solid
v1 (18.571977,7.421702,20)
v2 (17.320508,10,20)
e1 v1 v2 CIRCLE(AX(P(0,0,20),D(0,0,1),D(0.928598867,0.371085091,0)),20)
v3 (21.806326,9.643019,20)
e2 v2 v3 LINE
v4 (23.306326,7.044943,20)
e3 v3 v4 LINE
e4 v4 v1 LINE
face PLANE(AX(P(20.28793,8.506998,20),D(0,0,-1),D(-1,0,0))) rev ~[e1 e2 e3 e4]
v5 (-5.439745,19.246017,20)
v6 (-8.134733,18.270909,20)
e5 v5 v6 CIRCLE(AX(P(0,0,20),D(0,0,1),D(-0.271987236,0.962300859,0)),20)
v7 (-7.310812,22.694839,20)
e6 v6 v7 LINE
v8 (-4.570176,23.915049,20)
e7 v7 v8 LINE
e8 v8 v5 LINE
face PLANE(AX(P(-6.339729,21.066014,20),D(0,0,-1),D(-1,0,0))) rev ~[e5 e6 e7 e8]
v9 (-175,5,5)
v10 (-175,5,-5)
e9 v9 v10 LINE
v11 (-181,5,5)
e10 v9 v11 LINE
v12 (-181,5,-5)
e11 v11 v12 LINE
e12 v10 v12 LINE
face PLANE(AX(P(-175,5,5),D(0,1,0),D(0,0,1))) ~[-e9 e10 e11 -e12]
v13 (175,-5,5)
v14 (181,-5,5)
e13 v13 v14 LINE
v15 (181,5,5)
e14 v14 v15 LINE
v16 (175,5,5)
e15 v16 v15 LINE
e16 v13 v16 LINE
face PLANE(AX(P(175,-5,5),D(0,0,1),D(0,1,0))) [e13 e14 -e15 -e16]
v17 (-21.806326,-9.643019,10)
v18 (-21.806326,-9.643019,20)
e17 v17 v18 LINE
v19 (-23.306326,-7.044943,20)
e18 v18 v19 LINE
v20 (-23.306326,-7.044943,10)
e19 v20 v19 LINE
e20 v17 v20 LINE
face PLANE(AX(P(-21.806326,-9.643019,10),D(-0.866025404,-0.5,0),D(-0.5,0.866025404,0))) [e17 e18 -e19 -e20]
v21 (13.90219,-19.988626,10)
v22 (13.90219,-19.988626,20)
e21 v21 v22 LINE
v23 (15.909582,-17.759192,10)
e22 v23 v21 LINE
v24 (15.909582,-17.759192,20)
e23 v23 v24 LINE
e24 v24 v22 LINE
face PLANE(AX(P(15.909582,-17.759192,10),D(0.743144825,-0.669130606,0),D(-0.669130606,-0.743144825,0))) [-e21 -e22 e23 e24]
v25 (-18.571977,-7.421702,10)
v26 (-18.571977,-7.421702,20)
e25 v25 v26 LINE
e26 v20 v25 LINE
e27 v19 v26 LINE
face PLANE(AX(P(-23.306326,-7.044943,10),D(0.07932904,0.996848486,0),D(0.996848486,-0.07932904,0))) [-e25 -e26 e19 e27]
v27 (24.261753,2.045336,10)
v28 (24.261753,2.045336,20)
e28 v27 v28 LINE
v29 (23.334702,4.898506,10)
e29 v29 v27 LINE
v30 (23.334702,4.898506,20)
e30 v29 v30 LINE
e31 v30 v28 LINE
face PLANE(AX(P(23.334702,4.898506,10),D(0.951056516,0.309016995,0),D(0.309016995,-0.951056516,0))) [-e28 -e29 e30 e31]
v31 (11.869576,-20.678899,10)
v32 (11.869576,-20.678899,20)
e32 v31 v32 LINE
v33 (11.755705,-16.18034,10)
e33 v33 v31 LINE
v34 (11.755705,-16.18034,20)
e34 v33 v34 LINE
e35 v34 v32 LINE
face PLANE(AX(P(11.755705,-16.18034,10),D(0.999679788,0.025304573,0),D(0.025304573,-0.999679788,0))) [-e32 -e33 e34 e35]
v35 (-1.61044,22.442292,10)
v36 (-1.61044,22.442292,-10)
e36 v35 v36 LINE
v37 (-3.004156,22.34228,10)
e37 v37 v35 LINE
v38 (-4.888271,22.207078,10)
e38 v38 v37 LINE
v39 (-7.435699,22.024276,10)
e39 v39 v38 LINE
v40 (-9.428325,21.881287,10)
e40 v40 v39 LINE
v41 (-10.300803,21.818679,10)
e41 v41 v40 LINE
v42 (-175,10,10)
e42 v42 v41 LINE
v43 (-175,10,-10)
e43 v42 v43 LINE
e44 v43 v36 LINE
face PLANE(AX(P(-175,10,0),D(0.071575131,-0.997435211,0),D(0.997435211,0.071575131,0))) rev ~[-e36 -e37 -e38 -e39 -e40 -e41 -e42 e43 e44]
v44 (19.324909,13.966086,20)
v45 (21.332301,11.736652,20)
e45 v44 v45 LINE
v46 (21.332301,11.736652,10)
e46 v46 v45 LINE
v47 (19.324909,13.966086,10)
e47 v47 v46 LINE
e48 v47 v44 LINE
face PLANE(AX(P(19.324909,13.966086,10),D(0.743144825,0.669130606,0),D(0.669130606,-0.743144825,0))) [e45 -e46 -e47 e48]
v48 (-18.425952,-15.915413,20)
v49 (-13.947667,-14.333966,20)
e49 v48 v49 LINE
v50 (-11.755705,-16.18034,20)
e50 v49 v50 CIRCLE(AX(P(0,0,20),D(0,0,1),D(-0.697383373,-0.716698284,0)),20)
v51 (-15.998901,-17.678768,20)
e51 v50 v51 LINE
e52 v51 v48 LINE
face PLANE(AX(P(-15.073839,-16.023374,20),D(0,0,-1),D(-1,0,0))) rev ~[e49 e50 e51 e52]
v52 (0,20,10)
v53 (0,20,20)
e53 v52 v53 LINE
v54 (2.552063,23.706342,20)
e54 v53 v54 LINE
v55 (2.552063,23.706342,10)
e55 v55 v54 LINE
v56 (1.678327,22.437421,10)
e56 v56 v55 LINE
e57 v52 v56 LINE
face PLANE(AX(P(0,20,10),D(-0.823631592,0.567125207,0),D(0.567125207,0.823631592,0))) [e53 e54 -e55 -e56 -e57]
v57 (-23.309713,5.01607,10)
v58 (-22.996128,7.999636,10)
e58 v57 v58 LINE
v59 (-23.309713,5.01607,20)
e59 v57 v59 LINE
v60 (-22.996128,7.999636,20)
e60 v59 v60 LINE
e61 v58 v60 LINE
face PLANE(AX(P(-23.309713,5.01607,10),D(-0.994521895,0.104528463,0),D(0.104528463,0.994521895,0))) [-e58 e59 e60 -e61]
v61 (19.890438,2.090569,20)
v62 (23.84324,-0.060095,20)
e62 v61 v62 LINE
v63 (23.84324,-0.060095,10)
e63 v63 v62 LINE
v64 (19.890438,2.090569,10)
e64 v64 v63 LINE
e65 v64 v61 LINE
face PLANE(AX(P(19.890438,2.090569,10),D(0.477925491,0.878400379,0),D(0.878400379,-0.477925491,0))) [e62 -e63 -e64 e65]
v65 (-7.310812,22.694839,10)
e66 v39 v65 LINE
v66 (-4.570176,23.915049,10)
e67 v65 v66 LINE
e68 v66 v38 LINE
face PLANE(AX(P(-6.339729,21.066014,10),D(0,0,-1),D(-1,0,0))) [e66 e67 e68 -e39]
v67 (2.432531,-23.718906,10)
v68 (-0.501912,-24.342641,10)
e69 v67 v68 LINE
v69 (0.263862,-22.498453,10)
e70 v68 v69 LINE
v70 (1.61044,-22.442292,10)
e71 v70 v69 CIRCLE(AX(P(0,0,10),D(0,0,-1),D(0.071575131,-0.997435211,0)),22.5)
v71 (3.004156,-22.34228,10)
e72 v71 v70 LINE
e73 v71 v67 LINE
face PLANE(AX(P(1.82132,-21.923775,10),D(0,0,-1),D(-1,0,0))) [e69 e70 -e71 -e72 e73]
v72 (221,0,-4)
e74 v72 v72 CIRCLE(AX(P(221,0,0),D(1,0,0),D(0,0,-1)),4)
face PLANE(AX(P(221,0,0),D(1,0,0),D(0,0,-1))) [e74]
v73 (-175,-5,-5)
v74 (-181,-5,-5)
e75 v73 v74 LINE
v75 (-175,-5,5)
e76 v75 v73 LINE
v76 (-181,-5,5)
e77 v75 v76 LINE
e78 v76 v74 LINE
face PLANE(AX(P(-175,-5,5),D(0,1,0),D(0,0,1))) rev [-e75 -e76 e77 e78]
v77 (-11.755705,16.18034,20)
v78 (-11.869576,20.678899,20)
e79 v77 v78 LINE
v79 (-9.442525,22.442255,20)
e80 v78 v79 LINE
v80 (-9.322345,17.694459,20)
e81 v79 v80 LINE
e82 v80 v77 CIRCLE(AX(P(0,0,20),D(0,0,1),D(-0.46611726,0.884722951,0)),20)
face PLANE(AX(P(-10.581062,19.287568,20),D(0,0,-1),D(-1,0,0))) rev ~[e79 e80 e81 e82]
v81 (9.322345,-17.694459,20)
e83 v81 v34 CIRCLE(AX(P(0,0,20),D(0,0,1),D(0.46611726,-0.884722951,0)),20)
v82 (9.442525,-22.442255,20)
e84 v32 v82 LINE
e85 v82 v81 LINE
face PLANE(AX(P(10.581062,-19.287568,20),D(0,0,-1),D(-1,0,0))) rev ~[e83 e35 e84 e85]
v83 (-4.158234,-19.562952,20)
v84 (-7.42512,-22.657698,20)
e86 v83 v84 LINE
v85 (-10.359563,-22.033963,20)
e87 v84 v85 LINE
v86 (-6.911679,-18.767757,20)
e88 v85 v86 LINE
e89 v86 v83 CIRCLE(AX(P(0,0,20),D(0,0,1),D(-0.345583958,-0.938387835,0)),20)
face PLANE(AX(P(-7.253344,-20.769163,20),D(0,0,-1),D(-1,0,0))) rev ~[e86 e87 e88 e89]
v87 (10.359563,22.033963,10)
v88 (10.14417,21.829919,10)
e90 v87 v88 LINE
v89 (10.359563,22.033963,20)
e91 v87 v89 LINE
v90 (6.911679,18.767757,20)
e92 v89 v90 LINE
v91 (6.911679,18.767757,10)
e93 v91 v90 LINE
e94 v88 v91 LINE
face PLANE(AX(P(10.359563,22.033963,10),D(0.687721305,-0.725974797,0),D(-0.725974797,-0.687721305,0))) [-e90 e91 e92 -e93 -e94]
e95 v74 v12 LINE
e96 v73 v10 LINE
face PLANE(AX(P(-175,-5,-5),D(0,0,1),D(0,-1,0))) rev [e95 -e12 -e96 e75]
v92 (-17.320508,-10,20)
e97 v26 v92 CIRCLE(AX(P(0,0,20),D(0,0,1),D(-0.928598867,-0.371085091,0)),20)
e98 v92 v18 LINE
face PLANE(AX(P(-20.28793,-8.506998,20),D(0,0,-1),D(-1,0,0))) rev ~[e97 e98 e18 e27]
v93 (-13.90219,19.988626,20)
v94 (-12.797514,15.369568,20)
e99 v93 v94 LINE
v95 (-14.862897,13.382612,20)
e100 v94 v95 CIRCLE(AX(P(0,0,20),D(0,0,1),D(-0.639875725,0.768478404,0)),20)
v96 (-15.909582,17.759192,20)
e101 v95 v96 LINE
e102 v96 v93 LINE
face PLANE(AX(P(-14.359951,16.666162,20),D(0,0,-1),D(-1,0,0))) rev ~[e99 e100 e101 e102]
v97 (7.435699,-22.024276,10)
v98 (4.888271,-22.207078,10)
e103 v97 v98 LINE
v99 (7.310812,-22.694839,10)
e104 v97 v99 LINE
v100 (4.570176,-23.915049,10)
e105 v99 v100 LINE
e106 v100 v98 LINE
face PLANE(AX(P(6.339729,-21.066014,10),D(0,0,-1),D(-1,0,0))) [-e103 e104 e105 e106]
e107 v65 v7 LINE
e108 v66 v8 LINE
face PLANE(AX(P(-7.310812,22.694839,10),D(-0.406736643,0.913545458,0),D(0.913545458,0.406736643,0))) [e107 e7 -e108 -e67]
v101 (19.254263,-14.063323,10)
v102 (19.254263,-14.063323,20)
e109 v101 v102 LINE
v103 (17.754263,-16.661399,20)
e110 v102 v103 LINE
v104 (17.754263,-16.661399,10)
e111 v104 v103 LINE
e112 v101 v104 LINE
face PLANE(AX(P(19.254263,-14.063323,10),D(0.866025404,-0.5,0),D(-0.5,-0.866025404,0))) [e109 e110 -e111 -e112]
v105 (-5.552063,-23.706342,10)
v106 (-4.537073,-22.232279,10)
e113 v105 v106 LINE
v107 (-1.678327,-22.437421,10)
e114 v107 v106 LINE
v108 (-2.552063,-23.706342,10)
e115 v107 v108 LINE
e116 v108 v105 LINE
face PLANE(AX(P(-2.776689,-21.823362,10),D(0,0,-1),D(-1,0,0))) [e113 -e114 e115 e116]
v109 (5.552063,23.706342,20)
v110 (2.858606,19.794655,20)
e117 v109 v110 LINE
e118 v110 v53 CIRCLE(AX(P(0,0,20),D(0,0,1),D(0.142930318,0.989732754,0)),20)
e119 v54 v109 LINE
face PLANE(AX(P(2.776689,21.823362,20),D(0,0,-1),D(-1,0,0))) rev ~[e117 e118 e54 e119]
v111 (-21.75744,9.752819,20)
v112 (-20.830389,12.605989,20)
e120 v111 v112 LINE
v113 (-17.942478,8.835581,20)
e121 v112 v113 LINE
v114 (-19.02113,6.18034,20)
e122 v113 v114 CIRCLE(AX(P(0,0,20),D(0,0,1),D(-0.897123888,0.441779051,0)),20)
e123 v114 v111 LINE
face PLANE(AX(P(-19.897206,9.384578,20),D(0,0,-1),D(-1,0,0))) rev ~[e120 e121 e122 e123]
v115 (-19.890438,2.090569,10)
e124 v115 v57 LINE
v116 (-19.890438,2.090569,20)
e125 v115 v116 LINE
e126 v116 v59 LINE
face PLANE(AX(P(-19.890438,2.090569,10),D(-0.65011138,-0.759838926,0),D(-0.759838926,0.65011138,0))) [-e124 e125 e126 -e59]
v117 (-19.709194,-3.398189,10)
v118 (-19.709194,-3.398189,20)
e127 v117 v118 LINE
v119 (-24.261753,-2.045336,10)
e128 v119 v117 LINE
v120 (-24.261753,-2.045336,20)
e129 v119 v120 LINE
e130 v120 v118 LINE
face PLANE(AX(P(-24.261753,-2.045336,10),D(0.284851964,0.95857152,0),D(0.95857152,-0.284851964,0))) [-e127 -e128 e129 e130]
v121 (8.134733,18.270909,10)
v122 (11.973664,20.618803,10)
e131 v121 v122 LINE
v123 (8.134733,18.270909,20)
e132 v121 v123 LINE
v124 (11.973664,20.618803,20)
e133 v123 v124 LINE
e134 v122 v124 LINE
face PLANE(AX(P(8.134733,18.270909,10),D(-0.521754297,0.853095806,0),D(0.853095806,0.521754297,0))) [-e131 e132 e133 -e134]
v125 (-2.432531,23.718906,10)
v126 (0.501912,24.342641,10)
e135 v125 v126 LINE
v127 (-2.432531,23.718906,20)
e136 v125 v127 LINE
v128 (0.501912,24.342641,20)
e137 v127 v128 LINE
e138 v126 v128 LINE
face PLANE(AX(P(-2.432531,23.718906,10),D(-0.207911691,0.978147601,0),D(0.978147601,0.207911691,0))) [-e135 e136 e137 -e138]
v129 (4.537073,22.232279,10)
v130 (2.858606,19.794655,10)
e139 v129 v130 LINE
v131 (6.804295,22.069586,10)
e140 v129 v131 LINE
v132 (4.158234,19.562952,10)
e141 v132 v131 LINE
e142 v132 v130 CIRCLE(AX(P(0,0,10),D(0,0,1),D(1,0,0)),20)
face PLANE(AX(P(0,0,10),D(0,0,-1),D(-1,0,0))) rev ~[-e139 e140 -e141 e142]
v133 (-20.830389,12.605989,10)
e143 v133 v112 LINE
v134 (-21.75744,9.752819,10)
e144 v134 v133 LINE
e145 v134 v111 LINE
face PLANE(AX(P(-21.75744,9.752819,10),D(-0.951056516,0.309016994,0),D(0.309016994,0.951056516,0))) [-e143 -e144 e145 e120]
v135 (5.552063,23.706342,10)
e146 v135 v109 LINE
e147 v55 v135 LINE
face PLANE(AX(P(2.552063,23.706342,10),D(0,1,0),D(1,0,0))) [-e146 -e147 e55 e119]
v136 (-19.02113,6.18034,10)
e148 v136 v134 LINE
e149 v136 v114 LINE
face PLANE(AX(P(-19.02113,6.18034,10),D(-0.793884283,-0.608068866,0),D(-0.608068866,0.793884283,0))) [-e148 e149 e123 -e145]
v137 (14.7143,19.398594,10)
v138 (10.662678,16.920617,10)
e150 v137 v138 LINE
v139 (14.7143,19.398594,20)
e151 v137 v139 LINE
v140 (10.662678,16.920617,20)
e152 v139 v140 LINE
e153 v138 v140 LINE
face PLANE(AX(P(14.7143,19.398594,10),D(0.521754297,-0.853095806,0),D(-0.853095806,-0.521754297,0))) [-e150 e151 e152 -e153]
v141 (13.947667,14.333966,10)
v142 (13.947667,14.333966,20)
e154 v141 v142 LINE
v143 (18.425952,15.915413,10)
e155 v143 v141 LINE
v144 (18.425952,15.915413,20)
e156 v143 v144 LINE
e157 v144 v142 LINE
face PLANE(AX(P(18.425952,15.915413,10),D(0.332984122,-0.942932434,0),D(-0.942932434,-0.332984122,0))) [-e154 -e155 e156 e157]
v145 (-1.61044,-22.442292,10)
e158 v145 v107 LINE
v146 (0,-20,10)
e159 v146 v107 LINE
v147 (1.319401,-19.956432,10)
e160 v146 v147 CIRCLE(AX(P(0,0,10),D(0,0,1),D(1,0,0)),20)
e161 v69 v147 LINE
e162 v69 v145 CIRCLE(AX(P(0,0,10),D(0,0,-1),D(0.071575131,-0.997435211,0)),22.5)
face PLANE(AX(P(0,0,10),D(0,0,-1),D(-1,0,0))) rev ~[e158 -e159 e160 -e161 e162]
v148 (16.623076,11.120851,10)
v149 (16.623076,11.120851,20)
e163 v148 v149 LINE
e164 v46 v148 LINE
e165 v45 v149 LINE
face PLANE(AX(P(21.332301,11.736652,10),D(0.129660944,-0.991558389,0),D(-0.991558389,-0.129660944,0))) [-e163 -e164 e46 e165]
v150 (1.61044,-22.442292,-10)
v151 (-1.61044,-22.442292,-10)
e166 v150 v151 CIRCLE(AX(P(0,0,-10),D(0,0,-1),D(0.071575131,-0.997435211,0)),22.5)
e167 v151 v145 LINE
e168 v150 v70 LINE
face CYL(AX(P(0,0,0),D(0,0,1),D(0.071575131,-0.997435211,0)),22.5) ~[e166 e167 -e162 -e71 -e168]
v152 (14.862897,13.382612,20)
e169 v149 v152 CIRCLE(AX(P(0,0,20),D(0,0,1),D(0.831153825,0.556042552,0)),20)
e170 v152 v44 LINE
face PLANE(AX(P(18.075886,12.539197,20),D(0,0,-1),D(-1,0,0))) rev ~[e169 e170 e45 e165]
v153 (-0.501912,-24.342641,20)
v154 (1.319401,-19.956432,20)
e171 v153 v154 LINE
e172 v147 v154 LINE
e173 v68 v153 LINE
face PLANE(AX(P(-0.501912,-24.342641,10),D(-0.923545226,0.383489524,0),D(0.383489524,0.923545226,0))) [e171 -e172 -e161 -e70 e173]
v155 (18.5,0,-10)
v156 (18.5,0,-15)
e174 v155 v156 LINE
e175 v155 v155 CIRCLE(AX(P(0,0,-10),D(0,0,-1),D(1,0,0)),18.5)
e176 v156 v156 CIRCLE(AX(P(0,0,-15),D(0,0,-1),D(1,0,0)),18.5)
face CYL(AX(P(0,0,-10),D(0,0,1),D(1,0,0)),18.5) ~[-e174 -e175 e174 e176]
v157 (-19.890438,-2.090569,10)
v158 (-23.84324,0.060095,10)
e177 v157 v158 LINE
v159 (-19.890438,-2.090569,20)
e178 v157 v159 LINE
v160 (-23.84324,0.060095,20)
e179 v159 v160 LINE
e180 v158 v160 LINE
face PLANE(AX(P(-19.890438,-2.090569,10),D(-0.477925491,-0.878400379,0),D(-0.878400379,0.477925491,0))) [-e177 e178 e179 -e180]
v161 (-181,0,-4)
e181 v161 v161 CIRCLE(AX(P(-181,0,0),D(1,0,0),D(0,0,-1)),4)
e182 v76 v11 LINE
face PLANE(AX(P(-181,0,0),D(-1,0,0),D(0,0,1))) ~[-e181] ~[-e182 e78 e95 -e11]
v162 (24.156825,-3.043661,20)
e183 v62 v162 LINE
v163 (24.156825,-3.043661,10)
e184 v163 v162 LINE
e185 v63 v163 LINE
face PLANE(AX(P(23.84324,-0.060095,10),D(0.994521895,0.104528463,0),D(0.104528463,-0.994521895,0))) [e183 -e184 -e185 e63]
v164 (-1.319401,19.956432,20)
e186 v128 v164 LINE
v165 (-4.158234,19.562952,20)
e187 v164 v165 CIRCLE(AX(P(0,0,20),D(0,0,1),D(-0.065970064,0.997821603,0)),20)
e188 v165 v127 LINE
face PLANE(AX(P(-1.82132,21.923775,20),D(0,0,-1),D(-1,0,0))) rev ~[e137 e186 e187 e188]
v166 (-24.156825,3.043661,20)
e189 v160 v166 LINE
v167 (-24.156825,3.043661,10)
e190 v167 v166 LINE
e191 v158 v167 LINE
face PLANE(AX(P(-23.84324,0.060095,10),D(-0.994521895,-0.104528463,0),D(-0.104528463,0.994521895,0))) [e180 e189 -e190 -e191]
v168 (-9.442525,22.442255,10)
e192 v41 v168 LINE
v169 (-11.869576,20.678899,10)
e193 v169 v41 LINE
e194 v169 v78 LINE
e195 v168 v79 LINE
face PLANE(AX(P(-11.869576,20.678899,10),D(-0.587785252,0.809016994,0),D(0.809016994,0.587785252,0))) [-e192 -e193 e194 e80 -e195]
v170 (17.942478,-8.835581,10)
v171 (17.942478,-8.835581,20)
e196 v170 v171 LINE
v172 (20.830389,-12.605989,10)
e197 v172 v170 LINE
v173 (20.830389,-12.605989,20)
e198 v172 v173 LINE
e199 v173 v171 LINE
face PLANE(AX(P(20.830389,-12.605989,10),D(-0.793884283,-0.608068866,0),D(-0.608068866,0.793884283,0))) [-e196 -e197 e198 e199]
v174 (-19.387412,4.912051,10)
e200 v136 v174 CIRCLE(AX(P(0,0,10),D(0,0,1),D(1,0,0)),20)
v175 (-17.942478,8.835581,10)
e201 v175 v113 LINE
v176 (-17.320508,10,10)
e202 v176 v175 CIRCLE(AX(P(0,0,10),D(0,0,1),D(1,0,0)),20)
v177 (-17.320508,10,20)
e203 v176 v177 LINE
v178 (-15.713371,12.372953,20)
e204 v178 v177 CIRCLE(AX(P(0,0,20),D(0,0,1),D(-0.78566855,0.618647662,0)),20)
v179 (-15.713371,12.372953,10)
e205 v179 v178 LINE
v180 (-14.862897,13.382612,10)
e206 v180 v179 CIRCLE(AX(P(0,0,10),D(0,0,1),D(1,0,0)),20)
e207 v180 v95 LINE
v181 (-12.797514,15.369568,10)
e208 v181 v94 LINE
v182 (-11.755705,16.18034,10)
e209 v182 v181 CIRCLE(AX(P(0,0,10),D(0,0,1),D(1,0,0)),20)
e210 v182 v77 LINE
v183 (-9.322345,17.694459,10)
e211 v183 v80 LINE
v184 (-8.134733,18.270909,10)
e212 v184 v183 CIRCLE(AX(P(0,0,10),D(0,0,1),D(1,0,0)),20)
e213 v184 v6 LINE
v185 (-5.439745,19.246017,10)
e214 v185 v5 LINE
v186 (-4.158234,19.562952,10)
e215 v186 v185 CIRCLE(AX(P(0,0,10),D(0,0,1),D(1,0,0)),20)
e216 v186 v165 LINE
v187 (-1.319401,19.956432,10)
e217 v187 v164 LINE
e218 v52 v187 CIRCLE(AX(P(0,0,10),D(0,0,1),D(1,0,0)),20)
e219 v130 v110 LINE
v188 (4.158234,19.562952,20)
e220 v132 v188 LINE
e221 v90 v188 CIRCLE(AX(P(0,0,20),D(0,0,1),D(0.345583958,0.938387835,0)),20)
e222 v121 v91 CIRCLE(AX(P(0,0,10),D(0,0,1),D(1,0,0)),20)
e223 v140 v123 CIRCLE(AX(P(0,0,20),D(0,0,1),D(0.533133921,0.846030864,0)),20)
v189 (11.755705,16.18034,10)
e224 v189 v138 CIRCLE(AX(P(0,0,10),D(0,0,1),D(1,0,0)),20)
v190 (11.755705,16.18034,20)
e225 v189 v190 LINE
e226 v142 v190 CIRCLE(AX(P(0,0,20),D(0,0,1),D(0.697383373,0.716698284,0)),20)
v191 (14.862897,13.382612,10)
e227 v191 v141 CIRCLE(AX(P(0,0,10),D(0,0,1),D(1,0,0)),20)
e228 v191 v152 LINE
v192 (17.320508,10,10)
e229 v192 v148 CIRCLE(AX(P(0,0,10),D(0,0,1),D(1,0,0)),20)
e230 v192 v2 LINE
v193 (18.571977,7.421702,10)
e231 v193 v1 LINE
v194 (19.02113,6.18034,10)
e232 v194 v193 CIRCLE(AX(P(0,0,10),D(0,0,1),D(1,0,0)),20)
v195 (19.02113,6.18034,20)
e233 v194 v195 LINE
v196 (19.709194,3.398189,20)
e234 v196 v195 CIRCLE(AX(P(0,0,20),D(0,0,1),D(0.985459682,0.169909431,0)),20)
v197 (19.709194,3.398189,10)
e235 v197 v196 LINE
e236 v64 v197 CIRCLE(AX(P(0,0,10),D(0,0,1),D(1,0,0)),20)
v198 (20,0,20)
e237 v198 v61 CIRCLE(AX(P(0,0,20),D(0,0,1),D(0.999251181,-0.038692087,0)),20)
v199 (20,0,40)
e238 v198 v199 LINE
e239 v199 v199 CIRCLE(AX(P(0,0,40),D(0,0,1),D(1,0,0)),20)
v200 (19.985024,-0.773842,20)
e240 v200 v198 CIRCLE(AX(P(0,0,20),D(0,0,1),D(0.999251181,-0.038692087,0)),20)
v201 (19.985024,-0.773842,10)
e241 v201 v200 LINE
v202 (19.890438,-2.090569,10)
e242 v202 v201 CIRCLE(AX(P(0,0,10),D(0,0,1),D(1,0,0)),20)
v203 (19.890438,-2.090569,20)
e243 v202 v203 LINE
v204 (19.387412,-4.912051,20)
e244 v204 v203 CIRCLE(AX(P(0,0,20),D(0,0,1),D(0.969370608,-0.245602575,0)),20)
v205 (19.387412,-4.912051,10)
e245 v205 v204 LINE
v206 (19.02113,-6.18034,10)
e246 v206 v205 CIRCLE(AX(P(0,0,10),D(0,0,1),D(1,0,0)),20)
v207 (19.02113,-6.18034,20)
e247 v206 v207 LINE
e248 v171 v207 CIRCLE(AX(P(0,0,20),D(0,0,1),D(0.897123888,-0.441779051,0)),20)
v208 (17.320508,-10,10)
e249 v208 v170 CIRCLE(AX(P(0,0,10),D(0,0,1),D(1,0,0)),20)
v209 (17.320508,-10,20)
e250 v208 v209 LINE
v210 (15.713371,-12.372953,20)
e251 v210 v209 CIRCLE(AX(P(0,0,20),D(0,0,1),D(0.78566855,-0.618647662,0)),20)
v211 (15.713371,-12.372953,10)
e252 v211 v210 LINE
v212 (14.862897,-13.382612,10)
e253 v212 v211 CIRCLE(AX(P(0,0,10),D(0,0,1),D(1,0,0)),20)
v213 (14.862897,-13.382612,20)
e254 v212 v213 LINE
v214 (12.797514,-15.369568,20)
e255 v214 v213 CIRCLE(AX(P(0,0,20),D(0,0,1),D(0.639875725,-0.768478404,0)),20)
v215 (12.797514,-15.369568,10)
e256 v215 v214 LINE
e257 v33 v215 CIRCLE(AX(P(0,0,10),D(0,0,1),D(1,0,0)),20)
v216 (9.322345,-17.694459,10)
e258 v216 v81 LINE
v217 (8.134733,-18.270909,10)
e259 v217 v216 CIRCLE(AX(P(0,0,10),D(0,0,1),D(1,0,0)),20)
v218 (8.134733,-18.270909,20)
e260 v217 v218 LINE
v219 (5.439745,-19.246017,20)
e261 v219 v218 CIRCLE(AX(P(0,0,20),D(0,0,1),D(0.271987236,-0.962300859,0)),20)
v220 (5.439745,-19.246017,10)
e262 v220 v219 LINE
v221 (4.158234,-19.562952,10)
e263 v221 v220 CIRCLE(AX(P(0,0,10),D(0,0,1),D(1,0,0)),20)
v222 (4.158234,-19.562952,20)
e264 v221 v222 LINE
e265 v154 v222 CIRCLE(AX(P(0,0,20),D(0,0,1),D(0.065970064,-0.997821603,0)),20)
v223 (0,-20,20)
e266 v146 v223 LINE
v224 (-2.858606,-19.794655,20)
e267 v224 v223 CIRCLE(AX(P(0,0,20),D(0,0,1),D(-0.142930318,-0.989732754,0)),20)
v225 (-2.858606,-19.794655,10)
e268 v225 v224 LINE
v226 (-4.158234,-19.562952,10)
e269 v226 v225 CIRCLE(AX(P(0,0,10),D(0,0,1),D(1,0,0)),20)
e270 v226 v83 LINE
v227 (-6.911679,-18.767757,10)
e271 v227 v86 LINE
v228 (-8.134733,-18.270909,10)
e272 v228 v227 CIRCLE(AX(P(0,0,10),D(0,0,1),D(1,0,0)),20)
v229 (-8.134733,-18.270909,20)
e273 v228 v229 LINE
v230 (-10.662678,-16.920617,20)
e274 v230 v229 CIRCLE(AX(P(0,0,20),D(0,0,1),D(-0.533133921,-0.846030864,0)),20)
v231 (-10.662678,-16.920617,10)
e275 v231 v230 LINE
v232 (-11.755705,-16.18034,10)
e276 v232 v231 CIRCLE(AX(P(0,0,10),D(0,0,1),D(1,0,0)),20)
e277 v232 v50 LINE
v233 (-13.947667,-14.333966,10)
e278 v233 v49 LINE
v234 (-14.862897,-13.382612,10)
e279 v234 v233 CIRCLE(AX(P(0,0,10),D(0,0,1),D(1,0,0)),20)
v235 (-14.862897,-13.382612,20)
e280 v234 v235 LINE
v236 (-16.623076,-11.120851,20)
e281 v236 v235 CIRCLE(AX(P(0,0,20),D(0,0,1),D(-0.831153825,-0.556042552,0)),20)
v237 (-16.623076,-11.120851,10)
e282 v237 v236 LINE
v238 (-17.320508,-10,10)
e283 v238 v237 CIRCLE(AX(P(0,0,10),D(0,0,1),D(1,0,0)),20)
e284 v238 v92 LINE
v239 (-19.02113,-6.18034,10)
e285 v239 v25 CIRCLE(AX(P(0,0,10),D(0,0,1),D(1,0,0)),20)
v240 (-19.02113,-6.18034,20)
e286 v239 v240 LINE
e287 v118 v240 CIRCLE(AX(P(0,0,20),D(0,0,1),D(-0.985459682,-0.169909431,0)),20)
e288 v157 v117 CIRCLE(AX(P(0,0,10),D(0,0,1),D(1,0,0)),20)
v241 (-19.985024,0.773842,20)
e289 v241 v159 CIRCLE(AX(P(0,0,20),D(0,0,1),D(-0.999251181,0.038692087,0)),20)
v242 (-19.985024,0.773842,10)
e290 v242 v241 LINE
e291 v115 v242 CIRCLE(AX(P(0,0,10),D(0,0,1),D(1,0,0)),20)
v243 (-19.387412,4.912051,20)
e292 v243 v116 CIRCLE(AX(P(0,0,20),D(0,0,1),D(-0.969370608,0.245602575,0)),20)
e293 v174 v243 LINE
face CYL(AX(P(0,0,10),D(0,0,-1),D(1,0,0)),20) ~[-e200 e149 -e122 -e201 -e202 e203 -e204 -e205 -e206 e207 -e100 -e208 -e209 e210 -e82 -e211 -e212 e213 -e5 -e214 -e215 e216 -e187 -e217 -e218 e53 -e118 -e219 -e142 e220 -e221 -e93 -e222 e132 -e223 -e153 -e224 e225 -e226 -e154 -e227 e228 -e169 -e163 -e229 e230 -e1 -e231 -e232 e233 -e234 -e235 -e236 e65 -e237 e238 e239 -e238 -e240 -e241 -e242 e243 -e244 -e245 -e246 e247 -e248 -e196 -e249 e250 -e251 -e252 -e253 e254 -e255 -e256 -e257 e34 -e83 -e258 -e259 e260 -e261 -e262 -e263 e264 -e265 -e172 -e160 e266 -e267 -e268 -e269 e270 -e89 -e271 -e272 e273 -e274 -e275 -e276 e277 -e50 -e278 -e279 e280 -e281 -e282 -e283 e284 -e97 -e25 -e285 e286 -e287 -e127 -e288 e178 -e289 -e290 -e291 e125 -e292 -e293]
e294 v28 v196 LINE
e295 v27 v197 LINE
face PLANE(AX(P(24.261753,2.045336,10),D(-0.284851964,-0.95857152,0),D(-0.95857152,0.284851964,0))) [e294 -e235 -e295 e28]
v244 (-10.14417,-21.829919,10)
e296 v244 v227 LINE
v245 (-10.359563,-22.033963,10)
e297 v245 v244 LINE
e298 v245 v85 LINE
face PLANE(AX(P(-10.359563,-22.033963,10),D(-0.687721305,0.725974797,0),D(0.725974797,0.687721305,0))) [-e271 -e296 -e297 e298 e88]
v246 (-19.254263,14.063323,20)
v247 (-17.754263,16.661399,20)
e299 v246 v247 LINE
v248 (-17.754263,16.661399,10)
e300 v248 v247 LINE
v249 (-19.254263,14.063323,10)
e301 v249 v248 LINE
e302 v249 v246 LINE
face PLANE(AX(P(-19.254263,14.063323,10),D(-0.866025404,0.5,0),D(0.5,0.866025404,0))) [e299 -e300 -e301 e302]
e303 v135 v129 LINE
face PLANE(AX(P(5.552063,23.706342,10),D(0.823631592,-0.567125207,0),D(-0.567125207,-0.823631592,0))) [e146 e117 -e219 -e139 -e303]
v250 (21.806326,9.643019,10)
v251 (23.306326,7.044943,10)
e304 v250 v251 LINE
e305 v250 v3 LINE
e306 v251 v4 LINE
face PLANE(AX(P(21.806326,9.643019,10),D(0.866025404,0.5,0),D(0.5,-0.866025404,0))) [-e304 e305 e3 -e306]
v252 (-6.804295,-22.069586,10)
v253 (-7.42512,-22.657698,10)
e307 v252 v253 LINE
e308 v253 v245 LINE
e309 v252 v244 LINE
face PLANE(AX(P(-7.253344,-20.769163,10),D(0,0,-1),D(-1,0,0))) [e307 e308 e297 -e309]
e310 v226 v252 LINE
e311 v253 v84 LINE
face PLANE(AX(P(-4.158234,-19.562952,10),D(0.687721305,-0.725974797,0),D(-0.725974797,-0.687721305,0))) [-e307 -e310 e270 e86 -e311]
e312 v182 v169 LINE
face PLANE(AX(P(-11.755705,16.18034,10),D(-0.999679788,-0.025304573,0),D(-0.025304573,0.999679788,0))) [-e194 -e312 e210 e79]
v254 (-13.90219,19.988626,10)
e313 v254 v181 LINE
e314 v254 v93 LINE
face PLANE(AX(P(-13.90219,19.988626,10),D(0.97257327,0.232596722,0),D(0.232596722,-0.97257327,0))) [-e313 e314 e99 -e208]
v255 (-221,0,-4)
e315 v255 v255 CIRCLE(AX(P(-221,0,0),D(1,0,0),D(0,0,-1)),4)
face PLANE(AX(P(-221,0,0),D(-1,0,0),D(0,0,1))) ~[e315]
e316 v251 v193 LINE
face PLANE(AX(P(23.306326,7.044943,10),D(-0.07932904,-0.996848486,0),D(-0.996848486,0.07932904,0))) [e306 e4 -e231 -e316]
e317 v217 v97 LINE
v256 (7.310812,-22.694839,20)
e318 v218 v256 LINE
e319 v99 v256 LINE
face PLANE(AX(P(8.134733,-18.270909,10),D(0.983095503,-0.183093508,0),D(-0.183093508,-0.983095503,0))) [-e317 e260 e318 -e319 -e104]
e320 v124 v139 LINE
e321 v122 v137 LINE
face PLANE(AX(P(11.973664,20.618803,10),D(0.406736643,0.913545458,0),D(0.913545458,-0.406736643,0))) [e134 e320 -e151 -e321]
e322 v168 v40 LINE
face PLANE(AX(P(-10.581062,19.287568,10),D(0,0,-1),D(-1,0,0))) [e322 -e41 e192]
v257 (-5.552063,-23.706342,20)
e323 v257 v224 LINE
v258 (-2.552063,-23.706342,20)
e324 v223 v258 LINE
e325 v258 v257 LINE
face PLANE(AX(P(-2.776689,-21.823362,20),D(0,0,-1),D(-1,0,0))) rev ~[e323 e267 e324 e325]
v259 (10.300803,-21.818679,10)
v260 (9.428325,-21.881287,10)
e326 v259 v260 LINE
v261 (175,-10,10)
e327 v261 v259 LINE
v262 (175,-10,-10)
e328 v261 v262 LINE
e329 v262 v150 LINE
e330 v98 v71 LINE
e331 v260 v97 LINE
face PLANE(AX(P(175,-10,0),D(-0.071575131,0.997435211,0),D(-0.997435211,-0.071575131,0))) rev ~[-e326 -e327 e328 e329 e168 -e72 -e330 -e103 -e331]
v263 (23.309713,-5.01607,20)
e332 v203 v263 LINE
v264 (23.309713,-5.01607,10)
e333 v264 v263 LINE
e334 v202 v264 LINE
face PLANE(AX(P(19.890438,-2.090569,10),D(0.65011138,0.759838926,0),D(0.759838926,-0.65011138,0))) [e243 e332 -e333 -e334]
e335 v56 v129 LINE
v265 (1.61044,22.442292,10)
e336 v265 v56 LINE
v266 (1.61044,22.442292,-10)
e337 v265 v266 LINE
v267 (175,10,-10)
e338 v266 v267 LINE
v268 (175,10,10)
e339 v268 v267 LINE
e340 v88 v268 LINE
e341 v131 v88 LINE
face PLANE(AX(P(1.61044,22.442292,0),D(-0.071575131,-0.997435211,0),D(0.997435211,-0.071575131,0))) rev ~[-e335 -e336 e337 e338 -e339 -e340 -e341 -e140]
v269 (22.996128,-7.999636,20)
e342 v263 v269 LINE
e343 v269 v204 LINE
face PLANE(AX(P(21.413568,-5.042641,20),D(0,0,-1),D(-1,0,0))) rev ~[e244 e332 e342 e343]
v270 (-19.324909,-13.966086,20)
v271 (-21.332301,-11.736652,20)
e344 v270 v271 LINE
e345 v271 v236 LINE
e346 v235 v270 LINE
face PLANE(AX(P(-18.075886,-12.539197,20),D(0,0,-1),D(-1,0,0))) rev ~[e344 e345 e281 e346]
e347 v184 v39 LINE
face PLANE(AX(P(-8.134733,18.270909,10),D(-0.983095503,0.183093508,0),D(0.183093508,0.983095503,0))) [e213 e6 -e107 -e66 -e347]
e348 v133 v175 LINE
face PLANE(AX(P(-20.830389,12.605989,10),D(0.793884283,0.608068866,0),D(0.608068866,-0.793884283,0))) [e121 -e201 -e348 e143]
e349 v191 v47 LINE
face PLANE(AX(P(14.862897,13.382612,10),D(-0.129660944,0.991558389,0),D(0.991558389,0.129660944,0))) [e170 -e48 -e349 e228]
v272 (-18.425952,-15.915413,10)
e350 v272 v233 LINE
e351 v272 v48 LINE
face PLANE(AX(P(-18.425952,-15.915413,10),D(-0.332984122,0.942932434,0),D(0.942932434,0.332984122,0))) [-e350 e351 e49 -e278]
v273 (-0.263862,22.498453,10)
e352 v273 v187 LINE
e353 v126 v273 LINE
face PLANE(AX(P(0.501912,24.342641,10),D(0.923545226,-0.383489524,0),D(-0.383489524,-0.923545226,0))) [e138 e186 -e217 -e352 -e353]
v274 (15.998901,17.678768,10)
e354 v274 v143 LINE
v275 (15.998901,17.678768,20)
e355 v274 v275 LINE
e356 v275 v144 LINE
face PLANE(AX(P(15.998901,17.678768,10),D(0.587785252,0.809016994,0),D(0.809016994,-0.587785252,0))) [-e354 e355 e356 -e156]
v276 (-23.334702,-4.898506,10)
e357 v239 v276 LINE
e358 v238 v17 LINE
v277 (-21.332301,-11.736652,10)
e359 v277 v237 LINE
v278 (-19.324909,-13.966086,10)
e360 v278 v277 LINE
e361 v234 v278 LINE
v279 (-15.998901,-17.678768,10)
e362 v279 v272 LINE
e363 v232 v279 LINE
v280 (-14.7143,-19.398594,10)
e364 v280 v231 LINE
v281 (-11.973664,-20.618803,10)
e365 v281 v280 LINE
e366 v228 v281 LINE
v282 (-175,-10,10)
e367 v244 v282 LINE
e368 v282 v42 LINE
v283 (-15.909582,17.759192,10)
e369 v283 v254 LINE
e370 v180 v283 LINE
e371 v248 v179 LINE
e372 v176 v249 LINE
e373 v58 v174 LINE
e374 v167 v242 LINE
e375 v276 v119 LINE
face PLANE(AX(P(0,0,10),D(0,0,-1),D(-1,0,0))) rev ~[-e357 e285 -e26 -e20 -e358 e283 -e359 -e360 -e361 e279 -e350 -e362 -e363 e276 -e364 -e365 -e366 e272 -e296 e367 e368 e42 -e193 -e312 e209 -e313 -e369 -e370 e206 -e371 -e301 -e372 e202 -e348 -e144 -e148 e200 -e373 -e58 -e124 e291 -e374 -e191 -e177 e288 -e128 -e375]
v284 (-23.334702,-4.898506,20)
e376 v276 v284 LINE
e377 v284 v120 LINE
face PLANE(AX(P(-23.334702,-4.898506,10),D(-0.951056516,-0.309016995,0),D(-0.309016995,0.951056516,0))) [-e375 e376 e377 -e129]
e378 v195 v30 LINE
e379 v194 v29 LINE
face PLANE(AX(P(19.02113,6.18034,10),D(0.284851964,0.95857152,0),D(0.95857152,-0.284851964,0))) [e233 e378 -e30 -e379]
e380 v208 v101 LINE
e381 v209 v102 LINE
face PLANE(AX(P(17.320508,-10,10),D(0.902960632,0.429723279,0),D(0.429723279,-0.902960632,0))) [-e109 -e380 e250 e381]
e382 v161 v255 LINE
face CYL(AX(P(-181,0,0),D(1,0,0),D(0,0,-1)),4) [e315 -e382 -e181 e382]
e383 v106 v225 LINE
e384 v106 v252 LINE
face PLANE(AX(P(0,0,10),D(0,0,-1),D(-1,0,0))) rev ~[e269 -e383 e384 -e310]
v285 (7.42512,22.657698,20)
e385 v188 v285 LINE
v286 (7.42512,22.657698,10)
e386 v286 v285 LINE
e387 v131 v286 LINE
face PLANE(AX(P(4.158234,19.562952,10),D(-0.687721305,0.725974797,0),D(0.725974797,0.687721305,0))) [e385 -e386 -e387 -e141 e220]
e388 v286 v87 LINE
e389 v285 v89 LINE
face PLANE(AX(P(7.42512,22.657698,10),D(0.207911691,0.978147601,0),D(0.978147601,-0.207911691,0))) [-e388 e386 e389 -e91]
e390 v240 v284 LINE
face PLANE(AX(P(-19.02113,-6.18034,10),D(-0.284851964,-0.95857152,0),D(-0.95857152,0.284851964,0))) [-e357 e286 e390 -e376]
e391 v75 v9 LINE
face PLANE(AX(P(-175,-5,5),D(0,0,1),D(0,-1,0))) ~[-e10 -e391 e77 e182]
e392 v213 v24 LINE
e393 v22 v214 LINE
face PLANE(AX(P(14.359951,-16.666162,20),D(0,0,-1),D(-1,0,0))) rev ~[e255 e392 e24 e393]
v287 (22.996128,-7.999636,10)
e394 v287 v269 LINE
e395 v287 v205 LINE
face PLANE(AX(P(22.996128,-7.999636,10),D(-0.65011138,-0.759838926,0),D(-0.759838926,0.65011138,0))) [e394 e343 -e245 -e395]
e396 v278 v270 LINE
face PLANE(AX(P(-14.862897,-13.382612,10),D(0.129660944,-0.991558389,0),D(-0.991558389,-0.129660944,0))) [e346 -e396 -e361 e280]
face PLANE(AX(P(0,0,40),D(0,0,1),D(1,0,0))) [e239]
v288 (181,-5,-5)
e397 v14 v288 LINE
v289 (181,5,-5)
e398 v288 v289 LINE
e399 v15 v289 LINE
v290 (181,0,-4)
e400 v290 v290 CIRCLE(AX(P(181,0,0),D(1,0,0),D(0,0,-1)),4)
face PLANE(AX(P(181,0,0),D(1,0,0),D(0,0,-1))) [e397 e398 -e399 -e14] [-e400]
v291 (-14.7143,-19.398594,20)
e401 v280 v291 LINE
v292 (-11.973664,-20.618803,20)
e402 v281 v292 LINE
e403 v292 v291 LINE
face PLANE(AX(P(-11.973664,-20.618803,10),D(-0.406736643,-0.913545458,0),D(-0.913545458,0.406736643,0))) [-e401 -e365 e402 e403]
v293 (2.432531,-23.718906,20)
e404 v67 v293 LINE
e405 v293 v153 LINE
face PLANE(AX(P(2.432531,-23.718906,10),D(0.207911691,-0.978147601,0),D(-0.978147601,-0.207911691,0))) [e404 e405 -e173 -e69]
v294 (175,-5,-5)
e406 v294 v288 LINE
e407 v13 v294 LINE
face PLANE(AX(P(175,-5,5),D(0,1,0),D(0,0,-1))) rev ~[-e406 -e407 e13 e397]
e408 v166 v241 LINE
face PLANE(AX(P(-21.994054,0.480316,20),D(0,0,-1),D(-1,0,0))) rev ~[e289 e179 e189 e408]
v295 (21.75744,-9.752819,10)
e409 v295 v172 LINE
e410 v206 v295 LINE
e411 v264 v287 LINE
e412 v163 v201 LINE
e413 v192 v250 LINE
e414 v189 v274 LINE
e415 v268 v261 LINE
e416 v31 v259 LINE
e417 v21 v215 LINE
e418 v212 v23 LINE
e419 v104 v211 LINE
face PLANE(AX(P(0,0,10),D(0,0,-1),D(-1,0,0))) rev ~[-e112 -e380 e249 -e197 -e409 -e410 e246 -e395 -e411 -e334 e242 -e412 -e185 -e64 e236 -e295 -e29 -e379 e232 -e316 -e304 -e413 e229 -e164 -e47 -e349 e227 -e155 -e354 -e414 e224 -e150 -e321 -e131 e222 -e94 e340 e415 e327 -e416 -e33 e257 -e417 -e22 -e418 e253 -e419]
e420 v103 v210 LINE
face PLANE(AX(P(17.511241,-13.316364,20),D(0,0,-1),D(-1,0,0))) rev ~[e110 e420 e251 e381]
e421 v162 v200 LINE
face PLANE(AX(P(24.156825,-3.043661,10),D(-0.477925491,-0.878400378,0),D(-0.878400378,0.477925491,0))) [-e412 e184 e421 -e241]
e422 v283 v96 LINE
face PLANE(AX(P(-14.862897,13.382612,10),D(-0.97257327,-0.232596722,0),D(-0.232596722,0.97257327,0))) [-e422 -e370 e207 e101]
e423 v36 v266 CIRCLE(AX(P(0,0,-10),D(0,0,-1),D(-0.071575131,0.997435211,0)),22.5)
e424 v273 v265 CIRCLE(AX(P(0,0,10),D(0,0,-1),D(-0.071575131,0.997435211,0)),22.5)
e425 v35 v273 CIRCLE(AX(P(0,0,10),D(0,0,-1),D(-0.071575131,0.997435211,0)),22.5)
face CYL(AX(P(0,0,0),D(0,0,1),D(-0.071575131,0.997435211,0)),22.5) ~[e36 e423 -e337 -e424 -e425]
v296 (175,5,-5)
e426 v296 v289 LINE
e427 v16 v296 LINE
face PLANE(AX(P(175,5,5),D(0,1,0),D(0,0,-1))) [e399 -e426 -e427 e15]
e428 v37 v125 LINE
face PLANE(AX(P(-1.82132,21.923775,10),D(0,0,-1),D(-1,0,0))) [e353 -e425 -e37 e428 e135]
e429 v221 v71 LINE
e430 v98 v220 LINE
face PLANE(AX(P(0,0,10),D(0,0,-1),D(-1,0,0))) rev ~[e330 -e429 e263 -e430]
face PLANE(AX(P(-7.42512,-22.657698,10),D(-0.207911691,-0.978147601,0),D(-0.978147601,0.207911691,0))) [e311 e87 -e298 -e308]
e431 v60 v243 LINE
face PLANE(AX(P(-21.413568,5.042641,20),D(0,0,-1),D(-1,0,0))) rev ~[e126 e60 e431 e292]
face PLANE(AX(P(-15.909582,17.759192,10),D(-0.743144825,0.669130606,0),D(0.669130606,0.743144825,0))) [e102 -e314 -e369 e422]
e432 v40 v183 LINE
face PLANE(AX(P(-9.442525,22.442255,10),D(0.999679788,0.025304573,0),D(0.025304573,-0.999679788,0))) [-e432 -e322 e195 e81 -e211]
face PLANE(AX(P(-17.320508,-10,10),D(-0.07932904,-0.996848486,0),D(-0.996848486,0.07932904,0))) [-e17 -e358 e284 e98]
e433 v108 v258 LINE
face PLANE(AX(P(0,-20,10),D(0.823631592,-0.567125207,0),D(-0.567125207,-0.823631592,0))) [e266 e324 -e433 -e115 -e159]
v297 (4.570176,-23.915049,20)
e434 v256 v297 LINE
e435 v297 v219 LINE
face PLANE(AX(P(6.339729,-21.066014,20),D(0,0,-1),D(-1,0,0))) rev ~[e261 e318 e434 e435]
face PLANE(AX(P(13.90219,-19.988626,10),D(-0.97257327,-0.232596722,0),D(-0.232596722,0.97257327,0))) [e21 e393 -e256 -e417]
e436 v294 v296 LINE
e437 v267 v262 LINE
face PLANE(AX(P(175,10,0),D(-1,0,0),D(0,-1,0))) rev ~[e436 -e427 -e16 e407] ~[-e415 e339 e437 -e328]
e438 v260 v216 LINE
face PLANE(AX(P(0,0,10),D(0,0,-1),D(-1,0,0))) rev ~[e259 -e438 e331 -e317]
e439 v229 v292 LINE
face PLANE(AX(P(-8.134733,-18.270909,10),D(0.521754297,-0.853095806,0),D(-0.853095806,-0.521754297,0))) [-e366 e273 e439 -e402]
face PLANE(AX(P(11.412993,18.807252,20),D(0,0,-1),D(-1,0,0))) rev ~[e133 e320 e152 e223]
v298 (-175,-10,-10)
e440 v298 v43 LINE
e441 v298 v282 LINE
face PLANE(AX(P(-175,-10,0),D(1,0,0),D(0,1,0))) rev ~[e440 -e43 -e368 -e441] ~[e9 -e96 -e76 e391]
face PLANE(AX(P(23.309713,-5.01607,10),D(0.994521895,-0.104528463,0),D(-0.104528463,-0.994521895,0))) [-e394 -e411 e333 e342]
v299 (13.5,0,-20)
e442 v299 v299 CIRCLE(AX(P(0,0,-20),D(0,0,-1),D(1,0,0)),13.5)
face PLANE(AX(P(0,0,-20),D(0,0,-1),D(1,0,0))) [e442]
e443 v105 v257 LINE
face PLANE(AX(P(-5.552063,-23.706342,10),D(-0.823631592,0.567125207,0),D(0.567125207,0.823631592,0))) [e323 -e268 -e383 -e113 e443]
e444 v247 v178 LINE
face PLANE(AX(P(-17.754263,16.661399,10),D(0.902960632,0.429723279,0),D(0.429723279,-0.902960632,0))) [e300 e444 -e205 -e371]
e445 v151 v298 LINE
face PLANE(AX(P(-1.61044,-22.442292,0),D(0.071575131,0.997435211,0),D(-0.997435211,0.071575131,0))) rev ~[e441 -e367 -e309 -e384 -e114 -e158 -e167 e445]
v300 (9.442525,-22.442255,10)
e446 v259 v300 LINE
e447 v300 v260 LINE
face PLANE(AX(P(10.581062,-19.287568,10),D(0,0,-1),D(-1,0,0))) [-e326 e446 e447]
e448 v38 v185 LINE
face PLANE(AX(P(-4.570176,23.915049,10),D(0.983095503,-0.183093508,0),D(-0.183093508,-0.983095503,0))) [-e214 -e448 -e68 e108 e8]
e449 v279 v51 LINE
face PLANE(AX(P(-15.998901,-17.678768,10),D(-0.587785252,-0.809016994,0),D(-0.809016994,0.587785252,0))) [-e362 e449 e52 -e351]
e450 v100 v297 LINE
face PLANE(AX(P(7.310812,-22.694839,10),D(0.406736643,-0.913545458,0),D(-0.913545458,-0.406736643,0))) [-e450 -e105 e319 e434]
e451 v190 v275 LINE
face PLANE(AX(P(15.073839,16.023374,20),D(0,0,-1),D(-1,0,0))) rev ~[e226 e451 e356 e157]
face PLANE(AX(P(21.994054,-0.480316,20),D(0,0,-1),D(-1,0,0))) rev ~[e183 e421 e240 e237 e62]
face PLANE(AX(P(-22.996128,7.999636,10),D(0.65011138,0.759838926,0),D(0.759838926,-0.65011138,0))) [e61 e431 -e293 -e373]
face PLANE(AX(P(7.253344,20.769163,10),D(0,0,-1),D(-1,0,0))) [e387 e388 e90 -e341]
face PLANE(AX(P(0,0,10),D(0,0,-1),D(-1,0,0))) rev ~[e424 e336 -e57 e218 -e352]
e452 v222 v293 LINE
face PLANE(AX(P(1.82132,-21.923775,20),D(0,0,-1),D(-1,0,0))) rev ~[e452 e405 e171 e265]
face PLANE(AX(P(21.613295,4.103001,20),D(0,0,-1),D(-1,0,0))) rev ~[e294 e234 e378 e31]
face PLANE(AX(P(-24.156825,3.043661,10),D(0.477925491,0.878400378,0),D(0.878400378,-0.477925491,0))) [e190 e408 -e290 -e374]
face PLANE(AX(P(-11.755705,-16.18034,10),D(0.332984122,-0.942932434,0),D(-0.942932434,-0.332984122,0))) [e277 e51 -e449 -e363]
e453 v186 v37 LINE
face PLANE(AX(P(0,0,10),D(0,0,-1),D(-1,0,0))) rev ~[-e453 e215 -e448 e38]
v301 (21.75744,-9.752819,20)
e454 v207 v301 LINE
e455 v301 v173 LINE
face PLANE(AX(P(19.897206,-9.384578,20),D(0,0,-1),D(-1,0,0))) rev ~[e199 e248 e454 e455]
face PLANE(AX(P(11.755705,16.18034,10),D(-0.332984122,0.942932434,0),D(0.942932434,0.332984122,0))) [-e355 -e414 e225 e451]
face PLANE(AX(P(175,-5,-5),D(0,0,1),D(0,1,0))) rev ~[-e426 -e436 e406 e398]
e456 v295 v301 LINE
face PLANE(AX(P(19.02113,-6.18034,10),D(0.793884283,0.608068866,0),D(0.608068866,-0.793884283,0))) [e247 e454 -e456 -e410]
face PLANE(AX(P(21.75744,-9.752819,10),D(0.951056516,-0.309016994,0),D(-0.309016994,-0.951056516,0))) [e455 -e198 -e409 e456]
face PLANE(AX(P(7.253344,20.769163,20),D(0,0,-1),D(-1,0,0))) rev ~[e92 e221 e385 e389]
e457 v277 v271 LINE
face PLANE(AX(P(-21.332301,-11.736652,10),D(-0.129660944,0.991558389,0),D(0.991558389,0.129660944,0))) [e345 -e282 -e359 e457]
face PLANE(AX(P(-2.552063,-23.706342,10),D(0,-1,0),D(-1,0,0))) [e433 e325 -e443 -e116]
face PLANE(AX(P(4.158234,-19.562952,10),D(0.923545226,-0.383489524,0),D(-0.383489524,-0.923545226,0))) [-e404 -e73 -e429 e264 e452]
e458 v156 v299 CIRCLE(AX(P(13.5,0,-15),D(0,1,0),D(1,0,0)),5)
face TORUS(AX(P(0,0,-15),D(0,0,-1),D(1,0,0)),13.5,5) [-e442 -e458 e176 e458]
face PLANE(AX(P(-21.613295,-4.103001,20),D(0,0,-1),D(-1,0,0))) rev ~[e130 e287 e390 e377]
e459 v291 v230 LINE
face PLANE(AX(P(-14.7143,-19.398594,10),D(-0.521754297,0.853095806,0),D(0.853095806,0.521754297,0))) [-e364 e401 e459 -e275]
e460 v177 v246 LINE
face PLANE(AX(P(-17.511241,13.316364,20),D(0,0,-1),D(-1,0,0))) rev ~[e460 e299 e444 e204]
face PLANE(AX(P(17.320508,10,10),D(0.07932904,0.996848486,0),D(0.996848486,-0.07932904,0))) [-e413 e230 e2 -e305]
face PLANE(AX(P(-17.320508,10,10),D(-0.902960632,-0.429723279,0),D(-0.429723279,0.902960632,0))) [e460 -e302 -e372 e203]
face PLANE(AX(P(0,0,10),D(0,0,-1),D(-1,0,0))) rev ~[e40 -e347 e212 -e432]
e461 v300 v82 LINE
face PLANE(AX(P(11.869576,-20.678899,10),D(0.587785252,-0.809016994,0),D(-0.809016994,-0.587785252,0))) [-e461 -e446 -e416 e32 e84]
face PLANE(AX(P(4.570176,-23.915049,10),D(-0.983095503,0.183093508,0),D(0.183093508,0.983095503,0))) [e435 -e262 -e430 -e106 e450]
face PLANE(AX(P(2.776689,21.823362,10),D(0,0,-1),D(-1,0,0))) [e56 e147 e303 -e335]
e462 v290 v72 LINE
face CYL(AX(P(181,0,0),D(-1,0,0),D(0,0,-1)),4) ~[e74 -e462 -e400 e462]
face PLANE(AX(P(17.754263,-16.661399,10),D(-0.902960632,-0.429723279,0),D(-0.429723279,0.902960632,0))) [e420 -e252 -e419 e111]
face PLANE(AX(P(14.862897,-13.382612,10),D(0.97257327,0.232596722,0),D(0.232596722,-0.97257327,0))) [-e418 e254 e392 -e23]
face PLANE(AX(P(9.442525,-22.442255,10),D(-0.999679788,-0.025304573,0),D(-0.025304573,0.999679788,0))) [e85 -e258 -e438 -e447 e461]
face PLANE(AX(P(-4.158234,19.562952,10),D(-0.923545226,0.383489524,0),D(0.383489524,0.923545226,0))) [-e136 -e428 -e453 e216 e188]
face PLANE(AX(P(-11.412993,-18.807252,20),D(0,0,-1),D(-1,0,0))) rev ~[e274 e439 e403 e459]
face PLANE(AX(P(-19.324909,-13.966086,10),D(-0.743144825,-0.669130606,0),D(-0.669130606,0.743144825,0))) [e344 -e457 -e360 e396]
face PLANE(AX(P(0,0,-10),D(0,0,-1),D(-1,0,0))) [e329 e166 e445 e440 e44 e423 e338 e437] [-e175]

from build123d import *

# Parameters (mm, degrees)
BOSS_EXTRUDE1_DEPTH = 10
SKETCH2_R           = 20
BOSS_EXTRUDE2_DEPTH = 30
SKETCH3_R           = 18.5
BOSS_EXTRUDE3_DEPTH = 10
FILLET1_R           = 5
SKETCH4_W           = 10
SKETCH4_H           = 10
BOSS_EXTRUDE4_DEPTH = 6
SKETCH5_R           = 4
BOSS_EXTRUDE5_DEPTH = 40
BOSS_EXTRUDE6_DEPTH = 10


with BuildPart() as part:
    # Sketch1 → Boss-Extrude1 (new, symmetric)
    with BuildSketch(Plane.XY):
        with BuildLine():
            Line((-175, -10), (-175, 10))
            Line((-175, 10), (-1.610440443, 22.442292253))
            ThreePointArc((-1.610440443, 22.442292253), (0, 22.5), (1.610440443, 22.442292253))
            Line((1.610440443, 22.442292253), (175, 10))
            Line((175, 10), (175, -10))
            Line((175, -10), (1.610440443, -22.442292253))
            ThreePointArc((1.610440443, -22.442292253), (0, -22.5), (-1.610440443, -22.442292253))
            Line((-1.610440443, -22.442292253), (-175, -10))
        make_face()
    extrude(amount=BOSS_EXTRUDE1_DEPTH, both=True)

    # Sketch2 → Boss-Extrude2 (add)
    with BuildSketch(Plane.XY.offset(10)):
        Circle(SKETCH2_R)
    extrude(amount=BOSS_EXTRUDE2_DEPTH)

    # Sketch3 → Boss-Extrude3 (add)
    with BuildSketch(Plane(origin=(0, 0, -10), x_dir=(-1, 0, 0), z_dir=(0, 0, -1))):
        with Locations(Location((0, 0, 0), (0, 0, 180))):
            Circle(SKETCH3_R)
    extrude(amount=BOSS_EXTRUDE3_DEPTH)

    # Fillet1
    fillet1_edges = [part.edges().sort_by_distance(p)[0] for p in [
        (-18.5, 0, -20),
    ]]
    fillet(fillet1_edges, radius=FILLET1_R)

    # Sketch4 → Boss-Extrude4 (add)
    with BuildSketch(Plane(origin=(175, 0, 0), x_dir=(0, 0, -1), z_dir=(1, 0, 0))):
        Rectangle(SKETCH4_W, SKETCH4_H)
    boss_extrude4 = extrude(amount=BOSS_EXTRUDE4_DEPTH)

    # Sketch5 → Boss-Extrude5 (add)
    with BuildSketch(Plane(origin=(181, 0, 0), x_dir=(0, 0, -1), z_dir=(1, 0, 0))):
        Circle(SKETCH5_R)
    boss_extrude5 = extrude(amount=BOSS_EXTRUDE5_DEPTH)

    # Mirror1: Boss-Extrude4, Boss-Extrude5 across plane
    add(boss_extrude4.mirror(Plane(origin=(0, 0, 0), x_dir=(0, 0, 1), z_dir=(1, 0, 0))))
    add(boss_extrude5.mirror(Plane(origin=(0, 0, 0), x_dir=(0, 0, 1), z_dir=(1, 0, 0))))

    # Sketch6 → Boss-Extrude6 (add)
    with BuildSketch(Plane.XY.offset(10)):
        with BuildLine():
            Line((0, -20), (-2.552063431, -23.706342165))
            Line((-2.552063431, -23.706342165), (-5.552063431, -23.706342165))
            Line((-5.552063431, -23.706342165), (-2.858606346, -19.79465508))
            ThreePointArc((-2.858606346, -19.79465508), (-1.432986111, -19.948597715), (0, -20))
        make_face()
        with BuildLine():
            Line((-10.359563207, -22.033962815), (-6.911679146, -18.767756695))
            ThreePointArc((-6.911679146, -18.767756695), (-5.549218607, -19.214738428), (-4.158233816, -19.562952015))
            Line((-4.158233816, -19.562952015), (-7.425120405, -22.657697888))
            Line((-7.425120405, -22.657697888), (-10.359563207, -22.033962815))
        make_face()
        with BuildLine():
            Line((-14.71430036, -19.39859356), (-10.662678401, -16.920617285))
            ThreePointArc((-10.662678401, -16.920617285), (-9.422923622, -17.641102869), (-8.134732862, -18.270909153))
            Line((-8.134732862, -18.270909153), (-11.973663987, -20.618803489))
            Line((-11.973663987, -20.618803489), (-14.71430036, -19.39859356))
        make_face()
        with BuildLine():
            Line((-18.42595198, -15.915412681), (-13.947667445, -14.333965705))
            ThreePointArc((-13.947667445, -14.333965705), (-12.884801658, -15.296466463), (-11.755705046, -16.180339887))
            Line((-11.755705046, -16.180339887), (-15.998900997, -17.678768438))
            Line((-15.998900997, -17.678768438), (-18.42595198, -15.915412681))
        make_face()
        with BuildLine():
            Line((-21.332301081, -11.736651898), (-16.623076493, -11.120851042))
            ThreePointArc((-16.623076493, -11.120851042), (-15.783552033, -12.283301072), (-14.86289651, -13.382612127))
            Line((-14.86289651, -13.382612127), (-19.324909262, -13.966086374))
            Line((-19.324909262, -13.966086374), (-21.332301081, -11.736651898))
        make_face()
        with BuildLine():
            Line((-23.306326261, -7.044943108), (-18.571977332, -7.421701825))
            ThreePointArc((-18.571977332, -7.421701825), (-17.992485447, -8.733296482), (-17.320508076, -10))
            Line((-17.320508076, -10), (-21.806326261, -9.643019319))
            Line((-21.806326261, -9.643019319), (-23.306326261, -7.044943108))
        make_face()
        with BuildLine():
            Line((-24.261753148, -2.045336498), (-19.709193643, -3.398188624))
            ThreePointArc((-19.709193643, -3.398188624), (-19.415060909, -4.801604929), (-19.021130326, -6.180339887))
            Line((-19.021130326, -6.180339887), (-23.334702164, -4.898506047))
            Line((-23.334702164, -4.898506047), (-24.261753148, -2.045336498))
        make_face()
        with BuildLine():
            Line((-24.156825, 3.043661131), (-19.985023617, 0.773841725))
            ThreePointArc((-19.985023617, 0.773841725), (-19.989105046, -0.6600602), (-19.890437907, -2.090569265))
            Line((-19.890437907, -2.090569265), (-23.843239611, 0.060095445))
            Line((-23.843239611, 0.060095445), (-24.156825, 3.043661131))
        make_face()
        with BuildLine():
            Line((-22.996127684, 7.999636163), (-19.38741216, 4.912051478))
            ThreePointArc((-19.38741216, 4.912051478), (-19.689529374, 3.510332327), (-19.890437907, 2.090569265))
            Line((-19.890437907, 2.090569265), (-23.309713073, 5.016070477))
            Line((-23.309713073, 5.016070477), (-22.996127684, 7.999636163))
        make_face()
        with BuildLine():
            Line((-20.830389239, 12.605988709), (-17.942477761, 8.835581011))
            ThreePointArc((-17.942477761, 8.835581011), (-18.529426787, 7.527306487), (-19.021130326, 6.180339887))
            Line((-19.021130326, 6.180339887), (-21.757440222, 9.75281916))
            Line((-21.757440222, 9.75281916), (-20.830389239, 12.605988709))
        make_face()
        with BuildLine():
            Line((-17.75426283, 16.661399057), (-15.713370986, 12.372953256))
            ThreePointArc((-15.713370986, 12.372953256), (-16.559499336, 11.215301233), (-17.320508076, 10))
            Line((-17.320508076, 10), (-19.25426283, 14.063322846))
            Line((-19.25426283, 14.063322846), (-17.75426283, 16.661399057))
        make_face()
        with BuildLine():
            Line((-13.902189941, 19.988626317), (-12.797514497, 15.369568071))
            ThreePointArc((-12.797514497, 15.369568071), (-13.865842302, 14.413133499), (-14.86289651, 13.382612127))
            Line((-14.86289651, 13.382612127), (-15.90958176, 17.759191841))
            Line((-15.90958176, 17.759191841), (-13.902189941, 19.988626317))
        make_face()
        with BuildLine():
            Line((-9.442524641, 22.442254691), (-9.322345216, 17.69445901))
            ThreePointArc((-9.322345216, 17.69445901), (-10.566181424, 16.981042669), (-11.755705046, 16.180339887))
            Line((-11.755705046, 16.180339887), (-11.869575624, 20.678898934))
            Line((-11.869575624, 20.678898934), (-9.442524641, 22.442254691))
        make_face()
        with BuildLine():
            Line((-4.570175704, 23.915048844), (-5.439744715, 19.246017184))
            ThreePointArc((-5.439744715, 19.246017184), (-6.804727716, 18.80679879), (-8.134732862, 18.270909153))
            Line((-8.134732862, 18.270909153), (-7.310812077, 22.694838915))
            Line((-7.310812077, 22.694838915), (-4.570175704, 23.915048844))
        make_face()
        with BuildLine():
            Line((0.501911842, 24.342640606), (-1.319401268, 19.956432053))
            ThreePointArc((-1.319401268, 19.956432053), (-2.745874754, 19.810607558), (-4.158233816, 19.562952015))
            Line((-4.158233816, 19.562952015), (-2.43253096, 23.718905534))
            Line((-2.43253096, 23.718905534), (0.501911842, 24.342640606))
        make_face()
        with BuildLine():
            Line((5.552063431, 23.706342165), (2.858606346, 19.79465508))
            ThreePointArc((2.858606346, 19.79465508), (1.432986111, 19.948597715), (0, 20))
            Line((0, 20), (2.552063431, 23.706342165))
            Line((2.552063431, 23.706342165), (5.552063431, 23.706342165))
        make_face()
        with BuildLine():
            Line((10.359563207, 22.033962815), (6.911679146, 18.767756695))
            ThreePointArc((6.911679146, 18.767756695), (5.549218607, 19.214738428), (4.158233816, 19.562952015))
            Line((4.158233816, 19.562952015), (7.425120405, 22.657697888))
            Line((7.425120405, 22.657697888), (10.359563207, 22.033962815))
        make_face()
        with BuildLine():
            Line((14.71430036, 19.39859356), (10.662678401, 16.920617285))
            ThreePointArc((10.662678401, 16.920617285), (9.422923622, 17.641102869), (8.134732862, 18.270909153))
            Line((8.134732862, 18.270909153), (11.973663987, 20.618803489))
            Line((11.973663987, 20.618803489), (14.71430036, 19.39859356))
        make_face()
        with BuildLine():
            Line((18.42595198, 15.915412681), (13.947667445, 14.333965705))
            ThreePointArc((13.947667445, 14.333965705), (12.884801658, 15.296466463), (11.755705046, 16.180339887))
            Line((11.755705046, 16.180339887), (15.998900997, 17.678768438))
            Line((15.998900997, 17.678768438), (18.42595198, 15.915412681))
        make_face()
        with BuildLine():
            Line((21.332301081, 11.736651898), (16.623076493, 11.120851042))
            ThreePointArc((16.623076493, 11.120851042), (15.783552033, 12.283301072), (14.86289651, 13.382612127))
            Line((14.86289651, 13.382612127), (19.324909262, 13.966086374))
            Line((19.324909262, 13.966086374), (21.332301081, 11.736651898))
        make_face()
        with BuildLine():
            Line((23.306326261, 7.044943108), (18.571977332, 7.421701825))
            ThreePointArc((18.571977332, 7.421701825), (17.992485447, 8.733296482), (17.320508076, 10))
            Line((17.320508076, 10), (21.806326261, 9.643019319))
            Line((21.806326261, 9.643019319), (23.306326261, 7.044943108))
        make_face()
        with BuildLine():
            Line((24.261753148, 2.045336498), (19.709193643, 3.398188624))
            ThreePointArc((19.709193643, 3.398188624), (19.415060909, 4.801604929), (19.021130326, 6.180339887))
            Line((19.021130326, 6.180339887), (23.334702164, 4.898506047))
            Line((23.334702164, 4.898506047), (24.261753148, 2.045336498))
        make_face()
        with BuildLine():
            Line((24.156825, -3.043661131), (19.985023617, -0.773841725))
            ThreePointArc((19.985023617, -0.773841725), (19.989105046, 0.6600602), (19.890437907, 2.090569265))
            Line((19.890437907, 2.090569265), (23.843239611, -0.060095445))
            Line((23.843239611, -0.060095445), (24.156825, -3.043661131))
        make_face()
        with BuildLine():
            Line((22.996127684, -7.999636163), (19.38741216, -4.912051478))
            ThreePointArc((19.38741216, -4.912051478), (19.689529374, -3.510332327), (19.890437907, -2.090569265))
            Line((19.890437907, -2.090569265), (23.309713073, -5.016070477))
            Line((23.309713073, -5.016070477), (22.996127684, -7.999636163))
        make_face()
        with BuildLine():
            Line((20.830389239, -12.605988709), (17.942477761, -8.835581011))
            ThreePointArc((17.942477761, -8.835581011), (18.529426787, -7.527306487), (19.021130326, -6.180339887))
            Line((19.021130326, -6.180339887), (21.757440222, -9.75281916))
            Line((21.757440222, -9.75281916), (20.830389239, -12.605988709))
        make_face()
        with BuildLine():
            Line((17.75426283, -16.661399057), (15.713370986, -12.372953256))
            ThreePointArc((15.713370986, -12.372953256), (16.559499336, -11.215301233), (17.320508076, -10))
            Line((17.320508076, -10), (19.25426283, -14.063322846))
            Line((19.25426283, -14.063322846), (17.75426283, -16.661399057))
        make_face()
        with BuildLine():
            Line((13.902189941, -19.988626317), (12.797514497, -15.369568071))
            ThreePointArc((12.797514497, -15.369568071), (13.865842302, -14.413133499), (14.86289651, -13.382612127))
            Line((14.86289651, -13.382612127), (15.90958176, -17.759191841))
            Line((15.90958176, -17.759191841), (13.902189941, -19.988626317))
        make_face()
        with BuildLine():
            Line((9.442524641, -22.442254691), (9.322345216, -17.69445901))
            ThreePointArc((9.322345216, -17.69445901), (10.566181424, -16.981042669), (11.755705046, -16.180339887))
            Line((11.755705046, -16.180339887), (11.869575624, -20.678898934))
            Line((11.869575624, -20.678898934), (9.442524641, -22.442254691))
        make_face()
        with BuildLine():
            Line((4.570175704, -23.915048844), (5.439744715, -19.246017184))
            ThreePointArc((5.439744715, -19.246017184), (6.804727716, -18.80679879), (8.134732862, -18.270909153))
            Line((8.134732862, -18.270909153), (7.310812077, -22.694838915))
            Line((7.310812077, -22.694838915), (4.570175704, -23.915048844))
        make_face()
        with BuildLine():
            Line((-0.501911842, -24.342640606), (1.319401268, -19.956432053))
            ThreePointArc((1.319401268, -19.956432053), (2.745874754, -19.810607558), (4.158233816, -19.562952015))
            Line((4.158233816, -19.562952015), (2.43253096, -23.718905534))
            Line((2.43253096, -23.718905534), (-0.501911842, -24.342640606))
        make_face()
    extrude(amount=BOSS_EXTRUDE6_DEPTH)


solid = part.part
